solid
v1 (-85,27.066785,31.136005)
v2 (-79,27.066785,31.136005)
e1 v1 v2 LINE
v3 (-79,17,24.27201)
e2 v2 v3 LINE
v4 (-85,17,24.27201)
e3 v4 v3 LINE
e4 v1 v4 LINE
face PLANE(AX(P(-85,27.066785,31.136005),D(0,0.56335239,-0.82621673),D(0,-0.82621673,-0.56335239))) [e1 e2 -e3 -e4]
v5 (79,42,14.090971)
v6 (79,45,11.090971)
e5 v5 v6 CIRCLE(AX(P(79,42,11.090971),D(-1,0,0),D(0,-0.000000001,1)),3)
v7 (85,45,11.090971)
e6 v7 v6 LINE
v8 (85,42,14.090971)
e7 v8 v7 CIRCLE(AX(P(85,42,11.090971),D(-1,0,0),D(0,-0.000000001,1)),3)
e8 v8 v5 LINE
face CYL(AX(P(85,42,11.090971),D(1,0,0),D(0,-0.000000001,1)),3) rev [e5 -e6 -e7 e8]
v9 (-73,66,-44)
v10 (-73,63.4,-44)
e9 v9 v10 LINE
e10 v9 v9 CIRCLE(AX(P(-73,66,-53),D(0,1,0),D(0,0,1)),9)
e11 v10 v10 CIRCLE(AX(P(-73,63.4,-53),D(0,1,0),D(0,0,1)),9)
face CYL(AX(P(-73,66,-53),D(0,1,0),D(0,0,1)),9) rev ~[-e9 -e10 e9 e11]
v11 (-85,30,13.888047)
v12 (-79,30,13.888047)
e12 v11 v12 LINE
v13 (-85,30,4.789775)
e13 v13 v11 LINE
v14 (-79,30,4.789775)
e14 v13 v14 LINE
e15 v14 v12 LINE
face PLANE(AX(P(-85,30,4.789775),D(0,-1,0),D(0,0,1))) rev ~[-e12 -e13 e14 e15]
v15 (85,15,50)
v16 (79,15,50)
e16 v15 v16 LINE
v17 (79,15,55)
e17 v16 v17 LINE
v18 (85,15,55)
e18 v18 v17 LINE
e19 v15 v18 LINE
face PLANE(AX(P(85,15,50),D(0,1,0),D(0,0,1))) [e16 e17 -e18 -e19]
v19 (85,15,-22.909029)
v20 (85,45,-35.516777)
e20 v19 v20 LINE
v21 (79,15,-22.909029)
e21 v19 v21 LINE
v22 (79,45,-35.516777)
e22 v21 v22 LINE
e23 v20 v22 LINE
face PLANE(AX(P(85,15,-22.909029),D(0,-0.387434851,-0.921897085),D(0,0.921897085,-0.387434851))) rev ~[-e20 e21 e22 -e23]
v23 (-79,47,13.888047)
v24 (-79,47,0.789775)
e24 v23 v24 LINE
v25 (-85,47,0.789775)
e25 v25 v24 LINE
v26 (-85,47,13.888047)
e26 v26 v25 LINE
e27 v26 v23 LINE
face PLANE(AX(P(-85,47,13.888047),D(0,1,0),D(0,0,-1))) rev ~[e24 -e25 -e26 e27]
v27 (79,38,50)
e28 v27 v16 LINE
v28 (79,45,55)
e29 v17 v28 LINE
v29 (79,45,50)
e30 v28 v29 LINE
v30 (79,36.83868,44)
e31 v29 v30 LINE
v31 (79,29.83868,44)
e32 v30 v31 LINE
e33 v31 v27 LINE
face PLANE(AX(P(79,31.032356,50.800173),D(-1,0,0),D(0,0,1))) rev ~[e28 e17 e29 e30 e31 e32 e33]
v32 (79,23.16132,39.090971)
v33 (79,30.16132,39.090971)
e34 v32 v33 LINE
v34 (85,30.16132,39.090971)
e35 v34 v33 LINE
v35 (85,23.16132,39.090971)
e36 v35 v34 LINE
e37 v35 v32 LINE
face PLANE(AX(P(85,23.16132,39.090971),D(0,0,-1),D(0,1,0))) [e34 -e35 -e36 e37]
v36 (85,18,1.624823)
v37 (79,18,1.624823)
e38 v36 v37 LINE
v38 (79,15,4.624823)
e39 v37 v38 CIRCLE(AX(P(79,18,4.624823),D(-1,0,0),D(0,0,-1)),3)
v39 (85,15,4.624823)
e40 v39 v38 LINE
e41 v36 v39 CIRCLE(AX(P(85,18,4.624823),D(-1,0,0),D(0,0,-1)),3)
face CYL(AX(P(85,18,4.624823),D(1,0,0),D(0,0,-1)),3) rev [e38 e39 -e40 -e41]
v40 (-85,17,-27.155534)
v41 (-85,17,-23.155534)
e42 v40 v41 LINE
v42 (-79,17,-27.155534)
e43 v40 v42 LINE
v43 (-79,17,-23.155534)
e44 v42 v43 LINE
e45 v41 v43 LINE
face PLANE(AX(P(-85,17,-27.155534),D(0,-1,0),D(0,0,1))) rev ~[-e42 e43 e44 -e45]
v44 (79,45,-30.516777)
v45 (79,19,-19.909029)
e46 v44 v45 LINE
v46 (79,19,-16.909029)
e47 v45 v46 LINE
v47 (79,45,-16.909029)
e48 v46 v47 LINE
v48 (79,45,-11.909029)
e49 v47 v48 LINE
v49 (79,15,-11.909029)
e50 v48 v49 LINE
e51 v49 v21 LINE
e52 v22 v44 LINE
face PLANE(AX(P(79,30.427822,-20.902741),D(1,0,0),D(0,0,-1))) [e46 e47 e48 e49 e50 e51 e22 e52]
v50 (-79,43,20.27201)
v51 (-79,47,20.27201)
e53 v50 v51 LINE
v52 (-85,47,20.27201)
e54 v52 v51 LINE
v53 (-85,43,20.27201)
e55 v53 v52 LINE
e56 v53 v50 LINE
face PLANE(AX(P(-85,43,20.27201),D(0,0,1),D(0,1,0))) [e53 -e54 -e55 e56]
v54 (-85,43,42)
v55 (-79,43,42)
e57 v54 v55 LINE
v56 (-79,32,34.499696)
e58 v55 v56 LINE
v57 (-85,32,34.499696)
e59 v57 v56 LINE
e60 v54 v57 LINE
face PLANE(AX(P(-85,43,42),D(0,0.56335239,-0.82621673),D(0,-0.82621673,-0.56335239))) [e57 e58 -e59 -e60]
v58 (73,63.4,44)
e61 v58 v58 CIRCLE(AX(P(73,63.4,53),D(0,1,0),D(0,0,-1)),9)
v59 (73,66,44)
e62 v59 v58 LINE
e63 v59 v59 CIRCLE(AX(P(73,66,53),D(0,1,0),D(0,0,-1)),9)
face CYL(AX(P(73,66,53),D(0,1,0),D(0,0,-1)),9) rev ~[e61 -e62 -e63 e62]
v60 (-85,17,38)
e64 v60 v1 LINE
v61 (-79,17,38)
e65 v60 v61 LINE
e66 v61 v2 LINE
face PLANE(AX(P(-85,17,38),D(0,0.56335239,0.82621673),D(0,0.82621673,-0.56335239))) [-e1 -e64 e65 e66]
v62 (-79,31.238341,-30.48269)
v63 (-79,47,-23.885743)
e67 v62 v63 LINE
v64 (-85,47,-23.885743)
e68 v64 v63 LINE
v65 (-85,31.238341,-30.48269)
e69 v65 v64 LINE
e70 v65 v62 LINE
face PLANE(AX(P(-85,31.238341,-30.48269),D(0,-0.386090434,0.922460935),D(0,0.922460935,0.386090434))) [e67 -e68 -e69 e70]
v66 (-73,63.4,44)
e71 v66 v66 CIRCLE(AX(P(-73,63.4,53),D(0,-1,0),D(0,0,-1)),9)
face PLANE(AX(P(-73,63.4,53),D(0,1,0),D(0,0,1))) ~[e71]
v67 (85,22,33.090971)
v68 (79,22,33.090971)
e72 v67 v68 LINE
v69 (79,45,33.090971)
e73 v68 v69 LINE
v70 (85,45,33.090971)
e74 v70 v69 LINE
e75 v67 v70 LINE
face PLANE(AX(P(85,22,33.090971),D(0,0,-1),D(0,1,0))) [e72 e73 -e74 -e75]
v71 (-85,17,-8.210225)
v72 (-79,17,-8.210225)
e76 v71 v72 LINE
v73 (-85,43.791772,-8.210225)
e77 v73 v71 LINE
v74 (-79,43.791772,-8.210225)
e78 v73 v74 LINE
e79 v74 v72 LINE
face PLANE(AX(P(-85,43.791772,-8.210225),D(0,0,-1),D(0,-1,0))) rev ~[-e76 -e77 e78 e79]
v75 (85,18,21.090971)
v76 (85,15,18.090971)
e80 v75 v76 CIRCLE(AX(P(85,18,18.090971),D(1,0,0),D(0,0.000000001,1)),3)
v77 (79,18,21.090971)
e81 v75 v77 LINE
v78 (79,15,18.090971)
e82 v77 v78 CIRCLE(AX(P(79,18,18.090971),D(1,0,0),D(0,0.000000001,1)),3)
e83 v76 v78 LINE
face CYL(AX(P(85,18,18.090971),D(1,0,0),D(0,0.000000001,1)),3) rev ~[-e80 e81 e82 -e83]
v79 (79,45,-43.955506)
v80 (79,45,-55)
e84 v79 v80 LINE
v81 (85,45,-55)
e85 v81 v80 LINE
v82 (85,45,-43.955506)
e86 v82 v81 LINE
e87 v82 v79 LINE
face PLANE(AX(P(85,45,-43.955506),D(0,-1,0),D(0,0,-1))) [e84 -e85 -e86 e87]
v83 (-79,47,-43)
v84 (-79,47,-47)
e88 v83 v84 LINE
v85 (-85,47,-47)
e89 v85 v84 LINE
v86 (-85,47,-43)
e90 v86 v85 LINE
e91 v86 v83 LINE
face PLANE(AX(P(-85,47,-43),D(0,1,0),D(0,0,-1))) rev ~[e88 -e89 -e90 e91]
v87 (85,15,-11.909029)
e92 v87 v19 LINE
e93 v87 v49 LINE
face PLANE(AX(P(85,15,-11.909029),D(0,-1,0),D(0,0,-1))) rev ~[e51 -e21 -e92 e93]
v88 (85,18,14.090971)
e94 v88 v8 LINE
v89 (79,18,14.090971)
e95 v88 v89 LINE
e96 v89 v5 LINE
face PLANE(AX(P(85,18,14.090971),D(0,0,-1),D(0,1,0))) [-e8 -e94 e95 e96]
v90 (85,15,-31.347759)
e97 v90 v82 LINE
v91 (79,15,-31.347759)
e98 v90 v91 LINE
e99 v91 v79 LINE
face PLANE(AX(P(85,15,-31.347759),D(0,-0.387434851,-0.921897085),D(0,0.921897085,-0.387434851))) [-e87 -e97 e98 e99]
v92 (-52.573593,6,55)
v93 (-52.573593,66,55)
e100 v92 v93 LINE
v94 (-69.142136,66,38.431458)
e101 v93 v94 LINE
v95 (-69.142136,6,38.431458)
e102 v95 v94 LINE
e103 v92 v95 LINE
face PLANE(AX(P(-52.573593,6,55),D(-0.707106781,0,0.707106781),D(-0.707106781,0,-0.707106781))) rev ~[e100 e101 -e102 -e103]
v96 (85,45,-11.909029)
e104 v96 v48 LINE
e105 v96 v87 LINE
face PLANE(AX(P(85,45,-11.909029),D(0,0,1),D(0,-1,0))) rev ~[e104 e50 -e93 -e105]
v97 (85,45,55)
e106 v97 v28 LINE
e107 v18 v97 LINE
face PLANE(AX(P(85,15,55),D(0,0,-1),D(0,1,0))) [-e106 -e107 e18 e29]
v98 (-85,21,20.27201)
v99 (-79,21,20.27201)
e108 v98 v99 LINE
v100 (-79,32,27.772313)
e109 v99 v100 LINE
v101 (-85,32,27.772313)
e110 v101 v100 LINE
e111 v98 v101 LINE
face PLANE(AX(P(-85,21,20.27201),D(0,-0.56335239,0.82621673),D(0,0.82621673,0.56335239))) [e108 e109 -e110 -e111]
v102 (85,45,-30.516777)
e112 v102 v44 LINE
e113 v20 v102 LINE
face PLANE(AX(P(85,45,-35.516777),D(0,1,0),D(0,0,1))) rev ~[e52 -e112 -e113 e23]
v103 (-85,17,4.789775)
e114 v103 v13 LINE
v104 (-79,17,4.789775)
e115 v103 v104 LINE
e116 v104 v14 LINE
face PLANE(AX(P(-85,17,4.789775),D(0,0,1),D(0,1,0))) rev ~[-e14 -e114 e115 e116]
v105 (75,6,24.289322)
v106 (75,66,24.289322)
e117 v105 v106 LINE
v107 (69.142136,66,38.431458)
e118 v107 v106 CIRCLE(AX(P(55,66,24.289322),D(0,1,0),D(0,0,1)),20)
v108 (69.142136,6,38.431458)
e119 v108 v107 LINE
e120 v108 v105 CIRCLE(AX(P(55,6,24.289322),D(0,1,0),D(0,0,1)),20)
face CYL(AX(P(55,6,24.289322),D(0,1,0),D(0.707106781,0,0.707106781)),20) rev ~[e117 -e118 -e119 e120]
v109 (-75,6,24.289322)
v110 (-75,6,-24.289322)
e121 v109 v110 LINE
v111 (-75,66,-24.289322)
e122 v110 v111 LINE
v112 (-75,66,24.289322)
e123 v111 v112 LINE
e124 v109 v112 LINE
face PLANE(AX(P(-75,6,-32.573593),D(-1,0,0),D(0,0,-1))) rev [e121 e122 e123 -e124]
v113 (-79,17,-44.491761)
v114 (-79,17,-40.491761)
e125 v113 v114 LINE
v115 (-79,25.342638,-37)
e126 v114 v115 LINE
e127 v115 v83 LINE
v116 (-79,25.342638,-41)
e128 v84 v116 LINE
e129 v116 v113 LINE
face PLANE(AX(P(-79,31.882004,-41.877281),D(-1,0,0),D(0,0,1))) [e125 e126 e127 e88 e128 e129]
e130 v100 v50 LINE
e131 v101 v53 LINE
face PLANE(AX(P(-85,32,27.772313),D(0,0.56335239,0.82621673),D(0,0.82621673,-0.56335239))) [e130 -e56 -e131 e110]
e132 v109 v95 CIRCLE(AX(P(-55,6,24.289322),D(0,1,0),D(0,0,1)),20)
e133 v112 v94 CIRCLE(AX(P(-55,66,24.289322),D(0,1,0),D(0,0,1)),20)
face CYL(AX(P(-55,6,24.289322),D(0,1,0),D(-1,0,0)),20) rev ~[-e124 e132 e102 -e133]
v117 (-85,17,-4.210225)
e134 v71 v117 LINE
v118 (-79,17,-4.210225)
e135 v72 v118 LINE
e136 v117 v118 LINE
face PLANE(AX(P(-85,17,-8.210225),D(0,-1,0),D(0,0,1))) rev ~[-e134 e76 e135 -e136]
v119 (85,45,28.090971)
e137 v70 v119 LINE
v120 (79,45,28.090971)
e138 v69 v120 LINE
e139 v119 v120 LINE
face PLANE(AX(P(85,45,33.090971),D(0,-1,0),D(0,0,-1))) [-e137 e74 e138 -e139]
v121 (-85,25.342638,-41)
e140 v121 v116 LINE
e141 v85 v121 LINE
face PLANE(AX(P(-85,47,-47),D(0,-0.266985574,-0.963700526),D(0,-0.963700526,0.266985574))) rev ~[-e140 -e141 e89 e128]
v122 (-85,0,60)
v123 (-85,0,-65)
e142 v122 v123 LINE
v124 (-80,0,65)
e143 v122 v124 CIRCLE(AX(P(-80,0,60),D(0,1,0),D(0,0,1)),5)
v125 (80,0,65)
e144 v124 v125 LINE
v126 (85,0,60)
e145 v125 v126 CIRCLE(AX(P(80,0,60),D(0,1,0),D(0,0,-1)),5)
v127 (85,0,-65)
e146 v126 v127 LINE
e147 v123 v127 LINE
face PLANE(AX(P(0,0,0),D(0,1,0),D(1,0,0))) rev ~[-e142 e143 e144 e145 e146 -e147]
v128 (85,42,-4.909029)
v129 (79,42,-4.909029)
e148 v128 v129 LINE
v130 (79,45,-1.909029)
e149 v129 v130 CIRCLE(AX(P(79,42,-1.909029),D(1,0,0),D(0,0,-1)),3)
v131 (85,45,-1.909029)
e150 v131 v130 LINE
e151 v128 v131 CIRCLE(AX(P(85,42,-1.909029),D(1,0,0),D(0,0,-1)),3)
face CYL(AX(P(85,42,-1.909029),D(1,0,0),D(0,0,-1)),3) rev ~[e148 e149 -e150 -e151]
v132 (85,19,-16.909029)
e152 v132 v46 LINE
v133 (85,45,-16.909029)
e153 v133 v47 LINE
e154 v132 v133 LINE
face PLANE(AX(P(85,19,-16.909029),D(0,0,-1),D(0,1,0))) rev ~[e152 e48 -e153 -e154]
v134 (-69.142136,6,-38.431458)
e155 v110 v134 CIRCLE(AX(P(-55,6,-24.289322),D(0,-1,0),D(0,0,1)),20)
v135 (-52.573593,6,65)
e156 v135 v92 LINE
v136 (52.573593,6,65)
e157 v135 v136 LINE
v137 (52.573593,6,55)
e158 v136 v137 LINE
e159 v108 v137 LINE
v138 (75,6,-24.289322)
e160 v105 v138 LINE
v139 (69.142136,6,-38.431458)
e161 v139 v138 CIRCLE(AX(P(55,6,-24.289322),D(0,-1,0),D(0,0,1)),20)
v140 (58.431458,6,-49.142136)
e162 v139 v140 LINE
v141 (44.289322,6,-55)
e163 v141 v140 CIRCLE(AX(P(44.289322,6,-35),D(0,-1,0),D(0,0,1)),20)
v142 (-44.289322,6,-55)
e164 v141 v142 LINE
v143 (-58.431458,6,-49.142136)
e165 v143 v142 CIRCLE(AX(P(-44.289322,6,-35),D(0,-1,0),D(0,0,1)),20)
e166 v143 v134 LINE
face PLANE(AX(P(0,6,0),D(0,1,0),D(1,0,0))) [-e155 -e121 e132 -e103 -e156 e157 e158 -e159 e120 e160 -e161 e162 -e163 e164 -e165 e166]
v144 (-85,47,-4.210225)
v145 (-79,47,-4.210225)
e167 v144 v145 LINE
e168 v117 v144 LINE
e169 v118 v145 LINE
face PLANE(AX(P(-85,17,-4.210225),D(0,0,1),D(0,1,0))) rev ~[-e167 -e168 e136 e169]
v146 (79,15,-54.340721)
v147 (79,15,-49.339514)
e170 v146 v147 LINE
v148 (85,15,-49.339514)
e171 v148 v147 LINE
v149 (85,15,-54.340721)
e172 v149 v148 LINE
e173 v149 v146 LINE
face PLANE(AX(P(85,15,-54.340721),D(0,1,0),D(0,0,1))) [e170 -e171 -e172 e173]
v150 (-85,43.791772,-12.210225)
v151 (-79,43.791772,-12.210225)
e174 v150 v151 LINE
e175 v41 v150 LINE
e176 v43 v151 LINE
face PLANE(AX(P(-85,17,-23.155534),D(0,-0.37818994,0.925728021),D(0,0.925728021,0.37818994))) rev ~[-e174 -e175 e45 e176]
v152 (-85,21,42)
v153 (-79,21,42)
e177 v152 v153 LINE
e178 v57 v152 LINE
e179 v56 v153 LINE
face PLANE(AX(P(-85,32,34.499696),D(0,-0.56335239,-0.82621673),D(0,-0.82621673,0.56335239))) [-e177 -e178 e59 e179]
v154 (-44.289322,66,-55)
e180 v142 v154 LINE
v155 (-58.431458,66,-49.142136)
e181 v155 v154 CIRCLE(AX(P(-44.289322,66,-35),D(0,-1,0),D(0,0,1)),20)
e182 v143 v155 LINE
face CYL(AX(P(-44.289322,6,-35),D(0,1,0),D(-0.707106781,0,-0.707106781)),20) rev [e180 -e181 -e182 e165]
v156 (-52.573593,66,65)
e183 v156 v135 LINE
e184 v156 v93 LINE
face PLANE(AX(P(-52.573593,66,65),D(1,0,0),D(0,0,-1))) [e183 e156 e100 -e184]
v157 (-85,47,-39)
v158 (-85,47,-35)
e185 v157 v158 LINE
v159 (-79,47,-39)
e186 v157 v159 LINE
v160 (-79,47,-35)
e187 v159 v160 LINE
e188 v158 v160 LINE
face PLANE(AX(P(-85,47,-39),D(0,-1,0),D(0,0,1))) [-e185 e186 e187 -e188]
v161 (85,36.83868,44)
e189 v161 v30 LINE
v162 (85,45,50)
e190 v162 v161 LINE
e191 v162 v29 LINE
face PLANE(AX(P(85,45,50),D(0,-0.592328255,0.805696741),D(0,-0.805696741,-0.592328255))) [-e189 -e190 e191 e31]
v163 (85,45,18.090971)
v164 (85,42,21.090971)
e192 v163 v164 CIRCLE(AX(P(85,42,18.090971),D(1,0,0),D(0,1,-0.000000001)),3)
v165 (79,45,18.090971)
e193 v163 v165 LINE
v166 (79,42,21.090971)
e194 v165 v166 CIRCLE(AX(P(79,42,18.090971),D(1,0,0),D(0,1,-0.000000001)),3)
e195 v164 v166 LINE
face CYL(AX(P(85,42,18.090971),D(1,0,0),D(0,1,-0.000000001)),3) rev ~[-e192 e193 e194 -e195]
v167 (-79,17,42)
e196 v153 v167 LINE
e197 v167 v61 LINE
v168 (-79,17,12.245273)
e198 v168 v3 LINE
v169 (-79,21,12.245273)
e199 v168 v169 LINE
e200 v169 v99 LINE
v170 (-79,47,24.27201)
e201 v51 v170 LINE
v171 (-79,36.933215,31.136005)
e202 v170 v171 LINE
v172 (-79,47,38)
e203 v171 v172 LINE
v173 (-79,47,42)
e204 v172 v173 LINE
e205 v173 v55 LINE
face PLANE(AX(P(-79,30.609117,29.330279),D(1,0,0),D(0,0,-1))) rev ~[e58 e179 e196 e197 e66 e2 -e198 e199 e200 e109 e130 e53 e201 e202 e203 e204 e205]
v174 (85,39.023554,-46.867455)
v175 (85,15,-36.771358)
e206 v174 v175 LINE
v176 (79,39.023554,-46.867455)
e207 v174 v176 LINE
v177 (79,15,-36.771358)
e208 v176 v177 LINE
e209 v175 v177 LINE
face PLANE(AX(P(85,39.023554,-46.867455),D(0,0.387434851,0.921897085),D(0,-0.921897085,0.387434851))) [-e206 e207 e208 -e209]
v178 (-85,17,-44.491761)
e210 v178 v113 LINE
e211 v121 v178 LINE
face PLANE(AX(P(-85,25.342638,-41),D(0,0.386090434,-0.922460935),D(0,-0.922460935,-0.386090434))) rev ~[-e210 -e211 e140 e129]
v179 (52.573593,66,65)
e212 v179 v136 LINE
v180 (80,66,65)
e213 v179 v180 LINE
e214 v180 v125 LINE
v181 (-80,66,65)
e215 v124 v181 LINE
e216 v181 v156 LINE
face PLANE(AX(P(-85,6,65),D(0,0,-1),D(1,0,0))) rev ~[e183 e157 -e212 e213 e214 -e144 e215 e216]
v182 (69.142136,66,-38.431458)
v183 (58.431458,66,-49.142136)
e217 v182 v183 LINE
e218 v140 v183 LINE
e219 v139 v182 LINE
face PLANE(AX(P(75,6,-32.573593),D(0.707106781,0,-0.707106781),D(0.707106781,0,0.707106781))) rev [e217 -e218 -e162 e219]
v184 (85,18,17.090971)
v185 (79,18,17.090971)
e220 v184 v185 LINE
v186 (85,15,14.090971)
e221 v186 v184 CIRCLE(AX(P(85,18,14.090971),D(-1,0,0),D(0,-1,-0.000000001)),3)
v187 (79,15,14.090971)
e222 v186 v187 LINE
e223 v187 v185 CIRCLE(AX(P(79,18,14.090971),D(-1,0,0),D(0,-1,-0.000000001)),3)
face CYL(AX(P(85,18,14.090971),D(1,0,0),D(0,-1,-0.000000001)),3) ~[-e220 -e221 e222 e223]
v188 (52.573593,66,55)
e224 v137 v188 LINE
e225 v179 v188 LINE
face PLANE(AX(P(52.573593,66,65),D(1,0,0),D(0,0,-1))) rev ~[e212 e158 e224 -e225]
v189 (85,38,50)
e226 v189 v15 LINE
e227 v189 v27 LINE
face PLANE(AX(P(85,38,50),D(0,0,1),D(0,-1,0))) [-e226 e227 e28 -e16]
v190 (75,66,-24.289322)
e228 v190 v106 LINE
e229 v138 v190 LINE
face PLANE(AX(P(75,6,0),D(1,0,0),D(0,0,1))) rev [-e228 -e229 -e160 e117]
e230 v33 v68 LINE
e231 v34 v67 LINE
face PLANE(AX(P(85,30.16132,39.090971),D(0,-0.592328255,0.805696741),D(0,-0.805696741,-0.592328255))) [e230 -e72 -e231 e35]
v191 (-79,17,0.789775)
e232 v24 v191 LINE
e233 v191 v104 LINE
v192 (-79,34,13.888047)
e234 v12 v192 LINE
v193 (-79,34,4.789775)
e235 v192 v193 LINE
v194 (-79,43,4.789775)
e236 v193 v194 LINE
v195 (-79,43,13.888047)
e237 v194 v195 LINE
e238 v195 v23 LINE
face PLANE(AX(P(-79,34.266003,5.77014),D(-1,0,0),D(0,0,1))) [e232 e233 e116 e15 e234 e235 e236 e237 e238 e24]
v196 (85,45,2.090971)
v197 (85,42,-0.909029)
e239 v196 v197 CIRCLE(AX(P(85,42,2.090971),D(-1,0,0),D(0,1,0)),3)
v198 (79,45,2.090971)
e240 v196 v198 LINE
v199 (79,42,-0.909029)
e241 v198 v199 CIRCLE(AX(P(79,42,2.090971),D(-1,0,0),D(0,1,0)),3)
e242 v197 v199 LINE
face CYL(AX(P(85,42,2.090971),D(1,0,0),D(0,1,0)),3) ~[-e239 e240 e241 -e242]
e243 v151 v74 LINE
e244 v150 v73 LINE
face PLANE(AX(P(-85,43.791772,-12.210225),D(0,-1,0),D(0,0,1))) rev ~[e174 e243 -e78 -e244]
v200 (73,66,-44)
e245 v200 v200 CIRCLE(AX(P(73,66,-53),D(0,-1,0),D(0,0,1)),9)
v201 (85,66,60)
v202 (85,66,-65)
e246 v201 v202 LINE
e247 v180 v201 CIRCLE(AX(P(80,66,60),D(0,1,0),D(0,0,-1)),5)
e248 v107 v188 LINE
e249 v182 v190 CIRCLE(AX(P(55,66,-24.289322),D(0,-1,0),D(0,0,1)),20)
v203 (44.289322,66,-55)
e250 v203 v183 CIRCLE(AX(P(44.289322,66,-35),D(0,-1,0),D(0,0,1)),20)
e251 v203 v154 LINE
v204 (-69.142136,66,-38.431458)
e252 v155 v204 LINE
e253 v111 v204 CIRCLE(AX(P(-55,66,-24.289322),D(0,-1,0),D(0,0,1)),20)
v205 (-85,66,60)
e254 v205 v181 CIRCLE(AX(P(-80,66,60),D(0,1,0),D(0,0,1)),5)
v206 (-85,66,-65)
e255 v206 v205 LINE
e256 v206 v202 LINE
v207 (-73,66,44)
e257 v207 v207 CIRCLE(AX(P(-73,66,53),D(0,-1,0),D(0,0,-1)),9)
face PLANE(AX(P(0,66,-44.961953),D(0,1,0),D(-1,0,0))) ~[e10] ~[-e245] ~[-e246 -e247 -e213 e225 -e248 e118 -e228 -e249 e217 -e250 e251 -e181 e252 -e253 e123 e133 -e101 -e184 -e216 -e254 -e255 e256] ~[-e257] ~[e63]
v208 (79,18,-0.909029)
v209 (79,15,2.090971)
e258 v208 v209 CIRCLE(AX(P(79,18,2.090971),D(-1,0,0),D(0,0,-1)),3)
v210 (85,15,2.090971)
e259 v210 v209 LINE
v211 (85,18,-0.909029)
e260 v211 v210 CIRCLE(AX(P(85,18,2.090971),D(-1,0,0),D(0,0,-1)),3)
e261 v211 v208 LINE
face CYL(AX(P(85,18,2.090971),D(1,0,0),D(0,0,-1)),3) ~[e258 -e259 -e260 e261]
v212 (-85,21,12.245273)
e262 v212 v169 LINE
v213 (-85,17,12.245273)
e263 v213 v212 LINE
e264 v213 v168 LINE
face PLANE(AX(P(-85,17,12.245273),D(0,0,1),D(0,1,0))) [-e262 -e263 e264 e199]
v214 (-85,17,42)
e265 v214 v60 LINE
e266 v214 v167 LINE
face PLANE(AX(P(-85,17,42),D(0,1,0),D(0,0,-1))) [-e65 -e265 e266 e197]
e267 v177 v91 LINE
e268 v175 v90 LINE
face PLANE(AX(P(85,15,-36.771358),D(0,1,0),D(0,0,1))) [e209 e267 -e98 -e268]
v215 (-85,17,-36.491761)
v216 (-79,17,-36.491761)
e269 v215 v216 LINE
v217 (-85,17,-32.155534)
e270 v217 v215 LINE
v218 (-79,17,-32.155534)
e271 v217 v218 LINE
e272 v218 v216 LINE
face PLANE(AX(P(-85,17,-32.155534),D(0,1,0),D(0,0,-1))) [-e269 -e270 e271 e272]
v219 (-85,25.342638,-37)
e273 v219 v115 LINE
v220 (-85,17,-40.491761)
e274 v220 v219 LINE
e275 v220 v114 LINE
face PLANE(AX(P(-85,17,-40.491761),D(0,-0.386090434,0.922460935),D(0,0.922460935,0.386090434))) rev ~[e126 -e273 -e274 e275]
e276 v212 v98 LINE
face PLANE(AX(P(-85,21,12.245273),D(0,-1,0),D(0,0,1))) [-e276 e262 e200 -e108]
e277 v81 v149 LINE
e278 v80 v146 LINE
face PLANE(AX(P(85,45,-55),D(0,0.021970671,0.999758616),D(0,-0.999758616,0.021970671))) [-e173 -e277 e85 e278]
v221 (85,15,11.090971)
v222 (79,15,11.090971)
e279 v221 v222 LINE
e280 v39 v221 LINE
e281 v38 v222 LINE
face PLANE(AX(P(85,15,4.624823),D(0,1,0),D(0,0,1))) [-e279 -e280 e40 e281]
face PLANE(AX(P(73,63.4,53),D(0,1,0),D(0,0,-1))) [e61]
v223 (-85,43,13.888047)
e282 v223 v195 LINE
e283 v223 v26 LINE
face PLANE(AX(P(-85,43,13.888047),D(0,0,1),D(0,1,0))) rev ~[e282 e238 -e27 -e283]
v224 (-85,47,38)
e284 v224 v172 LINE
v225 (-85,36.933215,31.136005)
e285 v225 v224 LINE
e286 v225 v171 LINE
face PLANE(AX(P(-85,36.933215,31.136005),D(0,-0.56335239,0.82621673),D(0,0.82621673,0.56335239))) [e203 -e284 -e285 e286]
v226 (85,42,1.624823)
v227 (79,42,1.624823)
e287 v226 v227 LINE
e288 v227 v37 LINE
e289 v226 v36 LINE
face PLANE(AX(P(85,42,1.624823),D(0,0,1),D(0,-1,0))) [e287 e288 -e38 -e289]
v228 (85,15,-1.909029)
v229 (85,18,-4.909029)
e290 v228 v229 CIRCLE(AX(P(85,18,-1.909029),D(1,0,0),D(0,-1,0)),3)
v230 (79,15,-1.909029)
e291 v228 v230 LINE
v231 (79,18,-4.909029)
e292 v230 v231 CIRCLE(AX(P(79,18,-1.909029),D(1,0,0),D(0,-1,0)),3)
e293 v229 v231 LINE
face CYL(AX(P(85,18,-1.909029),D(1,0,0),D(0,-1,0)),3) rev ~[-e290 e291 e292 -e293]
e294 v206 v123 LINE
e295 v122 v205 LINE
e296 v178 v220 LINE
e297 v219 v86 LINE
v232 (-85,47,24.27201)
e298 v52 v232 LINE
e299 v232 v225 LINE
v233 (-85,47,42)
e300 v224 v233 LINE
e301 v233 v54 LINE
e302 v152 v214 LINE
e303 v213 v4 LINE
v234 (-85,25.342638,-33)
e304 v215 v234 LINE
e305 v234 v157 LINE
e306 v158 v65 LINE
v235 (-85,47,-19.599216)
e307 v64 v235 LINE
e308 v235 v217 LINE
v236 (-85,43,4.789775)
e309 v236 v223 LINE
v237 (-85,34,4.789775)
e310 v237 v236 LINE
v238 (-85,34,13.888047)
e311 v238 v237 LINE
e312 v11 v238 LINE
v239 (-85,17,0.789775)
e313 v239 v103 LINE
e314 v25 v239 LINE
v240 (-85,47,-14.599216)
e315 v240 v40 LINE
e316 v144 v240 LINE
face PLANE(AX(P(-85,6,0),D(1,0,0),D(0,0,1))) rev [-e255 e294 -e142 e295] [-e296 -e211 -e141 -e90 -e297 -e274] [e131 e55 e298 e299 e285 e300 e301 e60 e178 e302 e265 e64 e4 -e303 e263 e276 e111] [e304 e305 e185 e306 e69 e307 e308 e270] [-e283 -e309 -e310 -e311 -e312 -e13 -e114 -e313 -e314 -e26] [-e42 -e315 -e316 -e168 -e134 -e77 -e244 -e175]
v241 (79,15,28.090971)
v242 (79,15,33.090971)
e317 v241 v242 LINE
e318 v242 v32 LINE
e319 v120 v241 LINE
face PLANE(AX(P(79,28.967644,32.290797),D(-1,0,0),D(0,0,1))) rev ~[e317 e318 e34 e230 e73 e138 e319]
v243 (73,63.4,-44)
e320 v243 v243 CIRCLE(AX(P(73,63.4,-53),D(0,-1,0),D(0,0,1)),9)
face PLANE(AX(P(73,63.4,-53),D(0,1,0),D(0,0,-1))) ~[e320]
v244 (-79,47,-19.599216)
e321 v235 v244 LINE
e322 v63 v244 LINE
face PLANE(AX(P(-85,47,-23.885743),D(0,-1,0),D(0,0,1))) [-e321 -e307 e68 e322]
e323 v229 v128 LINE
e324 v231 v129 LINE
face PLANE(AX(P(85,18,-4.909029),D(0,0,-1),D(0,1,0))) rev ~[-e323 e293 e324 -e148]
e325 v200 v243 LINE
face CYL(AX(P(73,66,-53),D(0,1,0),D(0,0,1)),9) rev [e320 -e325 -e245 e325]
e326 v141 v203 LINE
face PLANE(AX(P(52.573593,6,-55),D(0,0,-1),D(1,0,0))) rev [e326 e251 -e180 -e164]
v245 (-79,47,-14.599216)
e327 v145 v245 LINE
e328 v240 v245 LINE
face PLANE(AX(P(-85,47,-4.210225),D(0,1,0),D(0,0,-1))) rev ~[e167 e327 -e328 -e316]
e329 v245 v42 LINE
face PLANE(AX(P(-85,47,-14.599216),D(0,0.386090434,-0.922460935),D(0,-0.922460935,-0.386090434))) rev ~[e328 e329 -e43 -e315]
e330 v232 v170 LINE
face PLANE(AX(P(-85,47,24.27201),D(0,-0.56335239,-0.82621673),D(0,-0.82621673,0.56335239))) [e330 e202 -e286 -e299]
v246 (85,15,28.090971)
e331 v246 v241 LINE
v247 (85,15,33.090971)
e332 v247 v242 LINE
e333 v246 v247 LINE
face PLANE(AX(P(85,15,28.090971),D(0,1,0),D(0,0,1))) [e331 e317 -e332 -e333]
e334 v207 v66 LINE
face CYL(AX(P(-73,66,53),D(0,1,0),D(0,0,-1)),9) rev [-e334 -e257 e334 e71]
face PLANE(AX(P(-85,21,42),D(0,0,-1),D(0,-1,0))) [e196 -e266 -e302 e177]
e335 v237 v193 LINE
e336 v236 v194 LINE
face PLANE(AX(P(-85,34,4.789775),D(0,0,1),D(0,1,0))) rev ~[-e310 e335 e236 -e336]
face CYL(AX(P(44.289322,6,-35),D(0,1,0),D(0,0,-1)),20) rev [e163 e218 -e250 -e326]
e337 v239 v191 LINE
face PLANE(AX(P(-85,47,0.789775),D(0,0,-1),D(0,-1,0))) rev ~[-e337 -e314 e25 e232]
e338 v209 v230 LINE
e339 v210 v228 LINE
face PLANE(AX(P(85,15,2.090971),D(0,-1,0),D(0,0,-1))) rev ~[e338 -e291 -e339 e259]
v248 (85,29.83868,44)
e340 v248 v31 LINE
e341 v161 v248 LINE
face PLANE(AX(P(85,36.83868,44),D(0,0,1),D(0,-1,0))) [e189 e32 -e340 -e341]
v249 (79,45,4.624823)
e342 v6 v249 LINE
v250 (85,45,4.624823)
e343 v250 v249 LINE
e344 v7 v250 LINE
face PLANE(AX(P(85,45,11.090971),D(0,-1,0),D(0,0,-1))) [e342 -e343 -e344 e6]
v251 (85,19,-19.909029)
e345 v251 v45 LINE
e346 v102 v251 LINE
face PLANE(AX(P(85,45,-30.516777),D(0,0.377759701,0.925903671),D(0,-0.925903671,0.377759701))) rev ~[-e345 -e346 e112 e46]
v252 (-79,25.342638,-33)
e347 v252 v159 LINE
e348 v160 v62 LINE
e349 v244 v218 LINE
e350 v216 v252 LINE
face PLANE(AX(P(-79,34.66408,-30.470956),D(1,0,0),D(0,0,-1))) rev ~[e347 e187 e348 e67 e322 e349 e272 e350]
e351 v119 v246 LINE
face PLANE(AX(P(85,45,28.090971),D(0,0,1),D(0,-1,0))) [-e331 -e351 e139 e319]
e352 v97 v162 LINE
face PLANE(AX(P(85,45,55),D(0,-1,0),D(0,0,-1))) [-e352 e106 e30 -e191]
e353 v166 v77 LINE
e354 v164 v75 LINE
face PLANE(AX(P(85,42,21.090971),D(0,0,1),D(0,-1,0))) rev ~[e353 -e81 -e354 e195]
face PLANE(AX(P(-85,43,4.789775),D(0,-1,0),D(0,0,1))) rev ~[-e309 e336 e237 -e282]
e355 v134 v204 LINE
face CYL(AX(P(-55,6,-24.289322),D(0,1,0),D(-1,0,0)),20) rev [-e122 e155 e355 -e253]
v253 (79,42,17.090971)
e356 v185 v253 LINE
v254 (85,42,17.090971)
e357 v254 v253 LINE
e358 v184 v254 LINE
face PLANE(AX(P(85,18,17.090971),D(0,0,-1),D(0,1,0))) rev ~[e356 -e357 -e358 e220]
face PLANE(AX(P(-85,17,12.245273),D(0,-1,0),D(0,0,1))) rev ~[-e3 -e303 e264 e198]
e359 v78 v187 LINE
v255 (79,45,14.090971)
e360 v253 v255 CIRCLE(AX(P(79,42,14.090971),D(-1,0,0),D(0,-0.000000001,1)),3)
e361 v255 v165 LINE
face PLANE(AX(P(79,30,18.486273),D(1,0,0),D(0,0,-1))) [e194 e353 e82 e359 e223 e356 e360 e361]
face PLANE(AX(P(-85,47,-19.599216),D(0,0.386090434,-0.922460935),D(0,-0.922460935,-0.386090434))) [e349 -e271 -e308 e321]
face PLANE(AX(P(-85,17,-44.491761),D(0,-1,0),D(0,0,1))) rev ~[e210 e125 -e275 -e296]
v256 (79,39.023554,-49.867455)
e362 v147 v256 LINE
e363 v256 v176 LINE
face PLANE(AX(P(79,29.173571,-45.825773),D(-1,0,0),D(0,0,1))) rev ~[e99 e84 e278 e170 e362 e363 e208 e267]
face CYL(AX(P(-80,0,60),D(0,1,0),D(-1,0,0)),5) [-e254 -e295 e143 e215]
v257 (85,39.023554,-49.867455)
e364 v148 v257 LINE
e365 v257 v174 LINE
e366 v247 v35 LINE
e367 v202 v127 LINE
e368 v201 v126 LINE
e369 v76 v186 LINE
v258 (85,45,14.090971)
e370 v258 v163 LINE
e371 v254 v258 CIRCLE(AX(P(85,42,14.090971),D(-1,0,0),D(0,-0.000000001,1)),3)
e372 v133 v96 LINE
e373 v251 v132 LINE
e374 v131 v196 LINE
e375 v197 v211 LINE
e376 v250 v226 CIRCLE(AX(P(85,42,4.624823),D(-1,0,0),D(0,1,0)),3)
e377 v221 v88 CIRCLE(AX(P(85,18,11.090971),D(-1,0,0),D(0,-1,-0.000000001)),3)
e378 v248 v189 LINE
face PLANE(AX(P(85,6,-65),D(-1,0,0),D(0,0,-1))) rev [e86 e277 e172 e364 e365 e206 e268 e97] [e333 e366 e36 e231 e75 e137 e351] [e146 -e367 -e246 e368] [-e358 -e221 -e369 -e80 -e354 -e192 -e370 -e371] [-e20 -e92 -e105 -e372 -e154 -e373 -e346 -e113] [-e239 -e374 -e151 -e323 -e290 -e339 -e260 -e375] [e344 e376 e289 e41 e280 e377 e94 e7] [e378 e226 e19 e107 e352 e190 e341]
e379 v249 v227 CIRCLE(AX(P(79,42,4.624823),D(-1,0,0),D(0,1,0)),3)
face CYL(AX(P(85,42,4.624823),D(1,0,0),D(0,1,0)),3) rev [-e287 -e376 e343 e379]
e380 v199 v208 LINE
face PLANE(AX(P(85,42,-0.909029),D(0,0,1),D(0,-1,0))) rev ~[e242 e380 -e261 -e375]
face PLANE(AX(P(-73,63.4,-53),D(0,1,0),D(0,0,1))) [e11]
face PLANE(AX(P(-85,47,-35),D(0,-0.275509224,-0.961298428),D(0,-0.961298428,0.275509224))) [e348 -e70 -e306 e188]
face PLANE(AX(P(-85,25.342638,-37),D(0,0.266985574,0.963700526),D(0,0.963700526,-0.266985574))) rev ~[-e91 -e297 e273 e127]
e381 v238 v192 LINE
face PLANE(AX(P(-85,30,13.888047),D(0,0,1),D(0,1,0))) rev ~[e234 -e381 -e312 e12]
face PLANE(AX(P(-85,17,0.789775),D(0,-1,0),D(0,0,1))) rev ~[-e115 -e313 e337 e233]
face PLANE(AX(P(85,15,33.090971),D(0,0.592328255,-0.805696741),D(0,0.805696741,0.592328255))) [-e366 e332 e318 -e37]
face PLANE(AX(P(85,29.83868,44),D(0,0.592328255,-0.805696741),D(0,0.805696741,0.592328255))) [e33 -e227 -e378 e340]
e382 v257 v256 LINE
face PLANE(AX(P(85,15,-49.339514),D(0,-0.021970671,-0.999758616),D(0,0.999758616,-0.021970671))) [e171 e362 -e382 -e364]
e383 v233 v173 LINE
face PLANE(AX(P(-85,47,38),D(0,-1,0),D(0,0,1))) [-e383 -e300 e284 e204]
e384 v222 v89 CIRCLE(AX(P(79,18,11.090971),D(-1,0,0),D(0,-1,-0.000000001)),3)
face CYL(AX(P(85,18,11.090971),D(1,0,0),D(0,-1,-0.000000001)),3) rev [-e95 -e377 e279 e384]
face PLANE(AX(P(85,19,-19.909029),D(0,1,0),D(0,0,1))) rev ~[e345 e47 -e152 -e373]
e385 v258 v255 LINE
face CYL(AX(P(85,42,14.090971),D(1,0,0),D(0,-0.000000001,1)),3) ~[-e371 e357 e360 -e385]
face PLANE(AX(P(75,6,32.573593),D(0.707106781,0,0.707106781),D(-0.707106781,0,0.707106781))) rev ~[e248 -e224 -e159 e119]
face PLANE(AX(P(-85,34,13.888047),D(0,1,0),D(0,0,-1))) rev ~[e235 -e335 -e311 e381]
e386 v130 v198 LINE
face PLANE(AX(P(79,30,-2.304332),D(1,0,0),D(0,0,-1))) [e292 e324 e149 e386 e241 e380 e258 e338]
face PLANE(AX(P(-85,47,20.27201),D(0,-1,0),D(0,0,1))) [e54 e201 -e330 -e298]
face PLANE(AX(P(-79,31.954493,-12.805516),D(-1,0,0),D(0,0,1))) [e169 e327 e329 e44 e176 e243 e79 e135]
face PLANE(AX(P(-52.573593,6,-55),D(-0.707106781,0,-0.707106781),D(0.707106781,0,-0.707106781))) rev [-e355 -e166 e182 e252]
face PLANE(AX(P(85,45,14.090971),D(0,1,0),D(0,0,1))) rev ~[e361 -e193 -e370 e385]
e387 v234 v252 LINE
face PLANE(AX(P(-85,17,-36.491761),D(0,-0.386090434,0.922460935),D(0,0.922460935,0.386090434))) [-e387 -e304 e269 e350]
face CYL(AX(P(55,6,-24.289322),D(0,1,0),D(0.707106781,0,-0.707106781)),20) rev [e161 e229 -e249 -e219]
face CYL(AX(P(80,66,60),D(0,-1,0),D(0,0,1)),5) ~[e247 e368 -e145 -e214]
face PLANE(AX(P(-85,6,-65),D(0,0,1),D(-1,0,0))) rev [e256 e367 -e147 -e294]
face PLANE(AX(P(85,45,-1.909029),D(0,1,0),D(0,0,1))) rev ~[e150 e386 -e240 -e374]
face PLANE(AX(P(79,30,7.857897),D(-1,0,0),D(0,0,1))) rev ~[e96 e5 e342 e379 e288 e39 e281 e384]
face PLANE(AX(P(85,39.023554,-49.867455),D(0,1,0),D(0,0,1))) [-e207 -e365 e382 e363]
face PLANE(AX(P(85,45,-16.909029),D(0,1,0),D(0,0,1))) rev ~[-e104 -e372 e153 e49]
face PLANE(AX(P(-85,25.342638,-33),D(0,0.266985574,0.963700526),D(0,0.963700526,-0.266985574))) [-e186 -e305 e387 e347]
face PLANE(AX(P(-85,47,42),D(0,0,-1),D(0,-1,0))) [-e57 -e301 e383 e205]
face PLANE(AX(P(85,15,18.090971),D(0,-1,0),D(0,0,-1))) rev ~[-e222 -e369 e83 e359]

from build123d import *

# Parameters (mm, degrees)
SKETCH1_W               = 170
SKETCH1_H               = 130
BOSS_EXTRUDE1_DEPTH     = 6
BOSS_EXTRUDE2_DEPTH     = 60
SKETCH3_R               = 9
CUT_EXTRUDE1_DEPTH      = 2.6
FILLET1_R               = 20
MIRROR3_COPY_1_SKETCH_R = 9
MIRROR3_COPY_1_DEPTH    = 2.6
SKETCH5_W               = 105.147186258
SKETCH5_H               = 10
CUT_EXTRUDE2_DEPTH      = 60
CUT_EXTRUDE3_DEPTH      = 6
FILLET2_R               = 5
CUT_EXTRUDE6_DEPTH      = 6


with BuildPart() as part:
    # Sketch1 → Boss-Extrude1 (new body)
    with BuildSketch(Plane(origin=(0, 0, 0), x_dir=(1, 0, 0), z_dir=(0, 1, 0))):
        Rectangle(SKETCH1_W, SKETCH1_H)
    extrude(amount=BOSS_EXTRUDE1_DEPTH)

    # Sketch2 → Boss-Extrude2 (add)
    with BuildSketch(Plane(origin=(0, 6, 0), x_dir=(1, 0, 0), z_dir=(0, 1, 0))):
        Polygon((-75, -32.573593129), (-75, 0), (-85, 0), (-85, -65), (85, -65), (85, 0), (75, 0), (75, -32.573593129), (52.573593129, -55), (45, -55), (-45, -55), (-52.573593129, -55), align=None)
    boss_extrude2 = extrude(amount=BOSS_EXTRUDE2_DEPTH)

    # Mirror1: Boss-Extrude2 across plane
    add(boss_extrude2.mirror(Plane.XY))

    # Sketch3 → Cut-Extrude1 (cut)
    with BuildSketch(Plane(origin=(0, 66, 0), x_dir=(1, 0, 0), z_dir=(0, 1, 0))):
        with Locations(Location((-73, 53, 0), (0, 0, 270))):
            Circle(SKETCH3_R)
    cut_extrude1 = extrude(amount=-CUT_EXTRUDE1_DEPTH, mode=Mode.SUBTRACT)

    # Fillet1
    fillet1_edges = [part.edges().sort_by_distance(p)[0] for p in [
        (-75, 36, 32.573593129),
        (75, 36, 32.573593129),
        (-75, 36, -32.573593129),
        (-52.573593129, 36, -55),
        (52.573593129, 36, -55),
        (75, 36, -32.573593129),
    ]]
    fillet(fillet1_edges, radius=FILLET1_R)

    # Mirror2: Cut-Extrude1 across plane
    add(cut_extrude1.mirror(Plane(origin=(0, 0, 0), x_dir=(0, 0, 1), z_dir=(1, 0, 0))), mode=Mode.SUBTRACT)

    # Mirror3: Cut-Extrude1 across plane
    add(cut_extrude1.mirror(Plane.XY), mode=Mode.SUBTRACT)

    # Mirror3 copy 1 sketch → Mirror3 copy 1 (cut)
    with BuildSketch(Plane(origin=(0, 66, 0), x_dir=(-1, 0, 0), z_dir=(0, 1, 0))):
        with Locations(Location((-73, 53, 0), (0, 0, 270))):
            Circle(MIRROR3_COPY_1_SKETCH_R)
    extrude(amount=-MIRROR3_COPY_1_DEPTH, mode=Mode.SUBTRACT)

    # Sketch5 → Cut-Extrude2 (cut)
    with BuildSketch(Plane(origin=(0, 66, 0), x_dir=(1, 0, 0), z_dir=(0, 1, 0))):
        with Locations((0, -60)):
            Rectangle(SKETCH5_W, SKETCH5_H)
    extrude(amount=-CUT_EXTRUDE2_DEPTH, mode=Mode.SUBTRACT)

    # Sketch7 → Cut-Extrude3 (cut)
    with BuildSketch(Plane(origin=(85, 0, 0), x_dir=(0, 0, -1), z_dir=(1, 0, 0))):
        Polygon((-55, 15), (-55, 45), (-50, 45), (-44, 36.838679983), (-44, 29.838679983), (-50, 38), (-50, 15), align=None)
        Polygon((-33.090970614, 22), (-33.090970614, 45), (-28.090970614, 45), (-28.090970614, 15), (-33.090970614, 15), (-39.090970614, 23.161320017), (-39.090970614, 30.161320017), align=None)
        with BuildLine():
            Line((1.909029386, 45), (-2.090970614, 45))
            ThreePointArc((-2.090970614, 45), (0.030349729, 44.121320344), (0.909029386, 42))
            Line((0.909029386, 42), (0.909029386, 18))
            ThreePointArc((0.909029386, 18), (0.030349729, 15.878679656), (-2.090970614, 15))
            Line((-2.090970614, 15), (1.909029386, 15))
            ThreePointArc((1.909029386, 15), (4.030349729, 15.878679656), (4.909029386, 18))
            Line((4.909029386, 18), (4.909029386, 42))
            ThreePointArc((4.909029386, 42), (4.030349729, 44.121320344), (1.909029386, 45))
        make_face()
        with BuildLine():
            Line((-21.090970614, 42), (-21.090970614, 18))
            ThreePointArc((-21.090970614, 18), (-20.212290958, 15.878679656), (-18.090970614, 15))
            Line((-18.090970614, 15), (-14.090970614, 15))
            ThreePointArc((-14.090970614, 15), (-16.212290958, 15.878679656), (-17.090970614, 18))
            Line((-17.090970614, 18), (-17.090970614, 42))
            ThreePointArc((-17.090970614, 42), (-16.212290958, 44.121320344), (-14.090970614, 45))
            Line((-14.090970614, 45), (-18.090970614, 45))
            ThreePointArc((-18.090970614, 45), (-20.212290958, 44.121320344), (-21.090970614, 42))
        make_face()
        Polygon((11.909029386, 45), (11.909029386, 15), (22.909029386, 15), (35.516776739, 45), (30.516776739, 45), (19.909029386, 19), (16.909029386, 19), (16.909029386, 45), align=None)
        Polygon((31.347758846, 15), (43.9555062, 45), (55, 45), (54.340720725, 15), (49.339513512, 15), (49.867454564, 39.023554456), (46.867454564, 39.023554456), (36.771357727, 15), align=None)
        with BuildLine():
            Line((-4.624822618, 15), (-11.090970614, 15))
            ThreePointArc((-11.090970614, 15), (-13.212290958, 15.878679656), (-14.090970614, 18))
            Line((-14.090970614, 18), (-14.090970614, 42))
            ThreePointArc((-14.090970614, 42), (-13.212290958, 44.121320344), (-11.090970614, 45))
            Line((-11.090970614, 45), (-4.624822618, 45))
            ThreePointArc((-4.624822618, 45), (-2.503502275, 44.121320344), (-1.624822618, 42))
            Line((-1.624822618, 42), (-1.624822618, 18))
            ThreePointArc((-1.624822618, 18), (-2.503502275, 15.878679656), (-4.624822618, 15))
        make_face()
    extrude(amount=-CUT_EXTRUDE3_DEPTH, mode=Mode.SUBTRACT)

    # Fillet2
    fillet2_edges = [part.edges().sort_by_distance(p)[0] for p in [
        (85, 33, 65),
        (-85, 33, 65),
    ]]
    fillet(fillet2_edges, radius=FILLET2_R)

    # Sketch12 → Cut-Extrude6 (cut)
    with BuildSketch(Plane.ZY.offset(85)):
        Polygon((-39, 47), (-35, 47), (-30.482690446, 31.238340543), (-23.885743409, 47), (-19.599215517, 47), (-32.155533692, 17), (-36.491760677, 17), (-33, 25.342638252), align=None)
        Polygon((-14.599215517, 47), (-27.155533692, 17), (-23.155533692, 17), (-12.210225245, 43.791772221), (-8.210225245, 43.791772221), (-8.210225245, 17), (-4.210225245, 17), (-4.210225245, 47), align=None)
        Polygon((-37, 25.342638252), (-43, 47), (-47, 47), (-41, 25.342638252), (-44.491760677, 17), (-40.491760677, 17), align=None)
        Polygon((0.789774755, 47), (0.789774755, 17), (4.789774755, 17), (4.789774755, 30), (13.888047314, 30), (13.888047314, 34), (4.789774755, 34), (4.789774755, 43), (13.888047314, 43), (13.888047314, 47), align=None)
        Polygon((20.27200974, 47), (24.27200974, 47), (31.13600487, 36.933214608), (38, 47), (42, 47), (42, 43), (34.499696428, 32), (42, 21), (42, 17), (38, 17), (31.13600487, 27.066785392), (24.27200974, 17), (20.27200974, 17), (12.245273414, 17), (12.245273414, 21), (20.27200974, 21), (27.772313311, 32), (20.27200974, 43), align=None)
    extrude(amount=-CUT_EXTRUDE6_DEPTH, mode=Mode.SUBTRACT)


solid = part.part
